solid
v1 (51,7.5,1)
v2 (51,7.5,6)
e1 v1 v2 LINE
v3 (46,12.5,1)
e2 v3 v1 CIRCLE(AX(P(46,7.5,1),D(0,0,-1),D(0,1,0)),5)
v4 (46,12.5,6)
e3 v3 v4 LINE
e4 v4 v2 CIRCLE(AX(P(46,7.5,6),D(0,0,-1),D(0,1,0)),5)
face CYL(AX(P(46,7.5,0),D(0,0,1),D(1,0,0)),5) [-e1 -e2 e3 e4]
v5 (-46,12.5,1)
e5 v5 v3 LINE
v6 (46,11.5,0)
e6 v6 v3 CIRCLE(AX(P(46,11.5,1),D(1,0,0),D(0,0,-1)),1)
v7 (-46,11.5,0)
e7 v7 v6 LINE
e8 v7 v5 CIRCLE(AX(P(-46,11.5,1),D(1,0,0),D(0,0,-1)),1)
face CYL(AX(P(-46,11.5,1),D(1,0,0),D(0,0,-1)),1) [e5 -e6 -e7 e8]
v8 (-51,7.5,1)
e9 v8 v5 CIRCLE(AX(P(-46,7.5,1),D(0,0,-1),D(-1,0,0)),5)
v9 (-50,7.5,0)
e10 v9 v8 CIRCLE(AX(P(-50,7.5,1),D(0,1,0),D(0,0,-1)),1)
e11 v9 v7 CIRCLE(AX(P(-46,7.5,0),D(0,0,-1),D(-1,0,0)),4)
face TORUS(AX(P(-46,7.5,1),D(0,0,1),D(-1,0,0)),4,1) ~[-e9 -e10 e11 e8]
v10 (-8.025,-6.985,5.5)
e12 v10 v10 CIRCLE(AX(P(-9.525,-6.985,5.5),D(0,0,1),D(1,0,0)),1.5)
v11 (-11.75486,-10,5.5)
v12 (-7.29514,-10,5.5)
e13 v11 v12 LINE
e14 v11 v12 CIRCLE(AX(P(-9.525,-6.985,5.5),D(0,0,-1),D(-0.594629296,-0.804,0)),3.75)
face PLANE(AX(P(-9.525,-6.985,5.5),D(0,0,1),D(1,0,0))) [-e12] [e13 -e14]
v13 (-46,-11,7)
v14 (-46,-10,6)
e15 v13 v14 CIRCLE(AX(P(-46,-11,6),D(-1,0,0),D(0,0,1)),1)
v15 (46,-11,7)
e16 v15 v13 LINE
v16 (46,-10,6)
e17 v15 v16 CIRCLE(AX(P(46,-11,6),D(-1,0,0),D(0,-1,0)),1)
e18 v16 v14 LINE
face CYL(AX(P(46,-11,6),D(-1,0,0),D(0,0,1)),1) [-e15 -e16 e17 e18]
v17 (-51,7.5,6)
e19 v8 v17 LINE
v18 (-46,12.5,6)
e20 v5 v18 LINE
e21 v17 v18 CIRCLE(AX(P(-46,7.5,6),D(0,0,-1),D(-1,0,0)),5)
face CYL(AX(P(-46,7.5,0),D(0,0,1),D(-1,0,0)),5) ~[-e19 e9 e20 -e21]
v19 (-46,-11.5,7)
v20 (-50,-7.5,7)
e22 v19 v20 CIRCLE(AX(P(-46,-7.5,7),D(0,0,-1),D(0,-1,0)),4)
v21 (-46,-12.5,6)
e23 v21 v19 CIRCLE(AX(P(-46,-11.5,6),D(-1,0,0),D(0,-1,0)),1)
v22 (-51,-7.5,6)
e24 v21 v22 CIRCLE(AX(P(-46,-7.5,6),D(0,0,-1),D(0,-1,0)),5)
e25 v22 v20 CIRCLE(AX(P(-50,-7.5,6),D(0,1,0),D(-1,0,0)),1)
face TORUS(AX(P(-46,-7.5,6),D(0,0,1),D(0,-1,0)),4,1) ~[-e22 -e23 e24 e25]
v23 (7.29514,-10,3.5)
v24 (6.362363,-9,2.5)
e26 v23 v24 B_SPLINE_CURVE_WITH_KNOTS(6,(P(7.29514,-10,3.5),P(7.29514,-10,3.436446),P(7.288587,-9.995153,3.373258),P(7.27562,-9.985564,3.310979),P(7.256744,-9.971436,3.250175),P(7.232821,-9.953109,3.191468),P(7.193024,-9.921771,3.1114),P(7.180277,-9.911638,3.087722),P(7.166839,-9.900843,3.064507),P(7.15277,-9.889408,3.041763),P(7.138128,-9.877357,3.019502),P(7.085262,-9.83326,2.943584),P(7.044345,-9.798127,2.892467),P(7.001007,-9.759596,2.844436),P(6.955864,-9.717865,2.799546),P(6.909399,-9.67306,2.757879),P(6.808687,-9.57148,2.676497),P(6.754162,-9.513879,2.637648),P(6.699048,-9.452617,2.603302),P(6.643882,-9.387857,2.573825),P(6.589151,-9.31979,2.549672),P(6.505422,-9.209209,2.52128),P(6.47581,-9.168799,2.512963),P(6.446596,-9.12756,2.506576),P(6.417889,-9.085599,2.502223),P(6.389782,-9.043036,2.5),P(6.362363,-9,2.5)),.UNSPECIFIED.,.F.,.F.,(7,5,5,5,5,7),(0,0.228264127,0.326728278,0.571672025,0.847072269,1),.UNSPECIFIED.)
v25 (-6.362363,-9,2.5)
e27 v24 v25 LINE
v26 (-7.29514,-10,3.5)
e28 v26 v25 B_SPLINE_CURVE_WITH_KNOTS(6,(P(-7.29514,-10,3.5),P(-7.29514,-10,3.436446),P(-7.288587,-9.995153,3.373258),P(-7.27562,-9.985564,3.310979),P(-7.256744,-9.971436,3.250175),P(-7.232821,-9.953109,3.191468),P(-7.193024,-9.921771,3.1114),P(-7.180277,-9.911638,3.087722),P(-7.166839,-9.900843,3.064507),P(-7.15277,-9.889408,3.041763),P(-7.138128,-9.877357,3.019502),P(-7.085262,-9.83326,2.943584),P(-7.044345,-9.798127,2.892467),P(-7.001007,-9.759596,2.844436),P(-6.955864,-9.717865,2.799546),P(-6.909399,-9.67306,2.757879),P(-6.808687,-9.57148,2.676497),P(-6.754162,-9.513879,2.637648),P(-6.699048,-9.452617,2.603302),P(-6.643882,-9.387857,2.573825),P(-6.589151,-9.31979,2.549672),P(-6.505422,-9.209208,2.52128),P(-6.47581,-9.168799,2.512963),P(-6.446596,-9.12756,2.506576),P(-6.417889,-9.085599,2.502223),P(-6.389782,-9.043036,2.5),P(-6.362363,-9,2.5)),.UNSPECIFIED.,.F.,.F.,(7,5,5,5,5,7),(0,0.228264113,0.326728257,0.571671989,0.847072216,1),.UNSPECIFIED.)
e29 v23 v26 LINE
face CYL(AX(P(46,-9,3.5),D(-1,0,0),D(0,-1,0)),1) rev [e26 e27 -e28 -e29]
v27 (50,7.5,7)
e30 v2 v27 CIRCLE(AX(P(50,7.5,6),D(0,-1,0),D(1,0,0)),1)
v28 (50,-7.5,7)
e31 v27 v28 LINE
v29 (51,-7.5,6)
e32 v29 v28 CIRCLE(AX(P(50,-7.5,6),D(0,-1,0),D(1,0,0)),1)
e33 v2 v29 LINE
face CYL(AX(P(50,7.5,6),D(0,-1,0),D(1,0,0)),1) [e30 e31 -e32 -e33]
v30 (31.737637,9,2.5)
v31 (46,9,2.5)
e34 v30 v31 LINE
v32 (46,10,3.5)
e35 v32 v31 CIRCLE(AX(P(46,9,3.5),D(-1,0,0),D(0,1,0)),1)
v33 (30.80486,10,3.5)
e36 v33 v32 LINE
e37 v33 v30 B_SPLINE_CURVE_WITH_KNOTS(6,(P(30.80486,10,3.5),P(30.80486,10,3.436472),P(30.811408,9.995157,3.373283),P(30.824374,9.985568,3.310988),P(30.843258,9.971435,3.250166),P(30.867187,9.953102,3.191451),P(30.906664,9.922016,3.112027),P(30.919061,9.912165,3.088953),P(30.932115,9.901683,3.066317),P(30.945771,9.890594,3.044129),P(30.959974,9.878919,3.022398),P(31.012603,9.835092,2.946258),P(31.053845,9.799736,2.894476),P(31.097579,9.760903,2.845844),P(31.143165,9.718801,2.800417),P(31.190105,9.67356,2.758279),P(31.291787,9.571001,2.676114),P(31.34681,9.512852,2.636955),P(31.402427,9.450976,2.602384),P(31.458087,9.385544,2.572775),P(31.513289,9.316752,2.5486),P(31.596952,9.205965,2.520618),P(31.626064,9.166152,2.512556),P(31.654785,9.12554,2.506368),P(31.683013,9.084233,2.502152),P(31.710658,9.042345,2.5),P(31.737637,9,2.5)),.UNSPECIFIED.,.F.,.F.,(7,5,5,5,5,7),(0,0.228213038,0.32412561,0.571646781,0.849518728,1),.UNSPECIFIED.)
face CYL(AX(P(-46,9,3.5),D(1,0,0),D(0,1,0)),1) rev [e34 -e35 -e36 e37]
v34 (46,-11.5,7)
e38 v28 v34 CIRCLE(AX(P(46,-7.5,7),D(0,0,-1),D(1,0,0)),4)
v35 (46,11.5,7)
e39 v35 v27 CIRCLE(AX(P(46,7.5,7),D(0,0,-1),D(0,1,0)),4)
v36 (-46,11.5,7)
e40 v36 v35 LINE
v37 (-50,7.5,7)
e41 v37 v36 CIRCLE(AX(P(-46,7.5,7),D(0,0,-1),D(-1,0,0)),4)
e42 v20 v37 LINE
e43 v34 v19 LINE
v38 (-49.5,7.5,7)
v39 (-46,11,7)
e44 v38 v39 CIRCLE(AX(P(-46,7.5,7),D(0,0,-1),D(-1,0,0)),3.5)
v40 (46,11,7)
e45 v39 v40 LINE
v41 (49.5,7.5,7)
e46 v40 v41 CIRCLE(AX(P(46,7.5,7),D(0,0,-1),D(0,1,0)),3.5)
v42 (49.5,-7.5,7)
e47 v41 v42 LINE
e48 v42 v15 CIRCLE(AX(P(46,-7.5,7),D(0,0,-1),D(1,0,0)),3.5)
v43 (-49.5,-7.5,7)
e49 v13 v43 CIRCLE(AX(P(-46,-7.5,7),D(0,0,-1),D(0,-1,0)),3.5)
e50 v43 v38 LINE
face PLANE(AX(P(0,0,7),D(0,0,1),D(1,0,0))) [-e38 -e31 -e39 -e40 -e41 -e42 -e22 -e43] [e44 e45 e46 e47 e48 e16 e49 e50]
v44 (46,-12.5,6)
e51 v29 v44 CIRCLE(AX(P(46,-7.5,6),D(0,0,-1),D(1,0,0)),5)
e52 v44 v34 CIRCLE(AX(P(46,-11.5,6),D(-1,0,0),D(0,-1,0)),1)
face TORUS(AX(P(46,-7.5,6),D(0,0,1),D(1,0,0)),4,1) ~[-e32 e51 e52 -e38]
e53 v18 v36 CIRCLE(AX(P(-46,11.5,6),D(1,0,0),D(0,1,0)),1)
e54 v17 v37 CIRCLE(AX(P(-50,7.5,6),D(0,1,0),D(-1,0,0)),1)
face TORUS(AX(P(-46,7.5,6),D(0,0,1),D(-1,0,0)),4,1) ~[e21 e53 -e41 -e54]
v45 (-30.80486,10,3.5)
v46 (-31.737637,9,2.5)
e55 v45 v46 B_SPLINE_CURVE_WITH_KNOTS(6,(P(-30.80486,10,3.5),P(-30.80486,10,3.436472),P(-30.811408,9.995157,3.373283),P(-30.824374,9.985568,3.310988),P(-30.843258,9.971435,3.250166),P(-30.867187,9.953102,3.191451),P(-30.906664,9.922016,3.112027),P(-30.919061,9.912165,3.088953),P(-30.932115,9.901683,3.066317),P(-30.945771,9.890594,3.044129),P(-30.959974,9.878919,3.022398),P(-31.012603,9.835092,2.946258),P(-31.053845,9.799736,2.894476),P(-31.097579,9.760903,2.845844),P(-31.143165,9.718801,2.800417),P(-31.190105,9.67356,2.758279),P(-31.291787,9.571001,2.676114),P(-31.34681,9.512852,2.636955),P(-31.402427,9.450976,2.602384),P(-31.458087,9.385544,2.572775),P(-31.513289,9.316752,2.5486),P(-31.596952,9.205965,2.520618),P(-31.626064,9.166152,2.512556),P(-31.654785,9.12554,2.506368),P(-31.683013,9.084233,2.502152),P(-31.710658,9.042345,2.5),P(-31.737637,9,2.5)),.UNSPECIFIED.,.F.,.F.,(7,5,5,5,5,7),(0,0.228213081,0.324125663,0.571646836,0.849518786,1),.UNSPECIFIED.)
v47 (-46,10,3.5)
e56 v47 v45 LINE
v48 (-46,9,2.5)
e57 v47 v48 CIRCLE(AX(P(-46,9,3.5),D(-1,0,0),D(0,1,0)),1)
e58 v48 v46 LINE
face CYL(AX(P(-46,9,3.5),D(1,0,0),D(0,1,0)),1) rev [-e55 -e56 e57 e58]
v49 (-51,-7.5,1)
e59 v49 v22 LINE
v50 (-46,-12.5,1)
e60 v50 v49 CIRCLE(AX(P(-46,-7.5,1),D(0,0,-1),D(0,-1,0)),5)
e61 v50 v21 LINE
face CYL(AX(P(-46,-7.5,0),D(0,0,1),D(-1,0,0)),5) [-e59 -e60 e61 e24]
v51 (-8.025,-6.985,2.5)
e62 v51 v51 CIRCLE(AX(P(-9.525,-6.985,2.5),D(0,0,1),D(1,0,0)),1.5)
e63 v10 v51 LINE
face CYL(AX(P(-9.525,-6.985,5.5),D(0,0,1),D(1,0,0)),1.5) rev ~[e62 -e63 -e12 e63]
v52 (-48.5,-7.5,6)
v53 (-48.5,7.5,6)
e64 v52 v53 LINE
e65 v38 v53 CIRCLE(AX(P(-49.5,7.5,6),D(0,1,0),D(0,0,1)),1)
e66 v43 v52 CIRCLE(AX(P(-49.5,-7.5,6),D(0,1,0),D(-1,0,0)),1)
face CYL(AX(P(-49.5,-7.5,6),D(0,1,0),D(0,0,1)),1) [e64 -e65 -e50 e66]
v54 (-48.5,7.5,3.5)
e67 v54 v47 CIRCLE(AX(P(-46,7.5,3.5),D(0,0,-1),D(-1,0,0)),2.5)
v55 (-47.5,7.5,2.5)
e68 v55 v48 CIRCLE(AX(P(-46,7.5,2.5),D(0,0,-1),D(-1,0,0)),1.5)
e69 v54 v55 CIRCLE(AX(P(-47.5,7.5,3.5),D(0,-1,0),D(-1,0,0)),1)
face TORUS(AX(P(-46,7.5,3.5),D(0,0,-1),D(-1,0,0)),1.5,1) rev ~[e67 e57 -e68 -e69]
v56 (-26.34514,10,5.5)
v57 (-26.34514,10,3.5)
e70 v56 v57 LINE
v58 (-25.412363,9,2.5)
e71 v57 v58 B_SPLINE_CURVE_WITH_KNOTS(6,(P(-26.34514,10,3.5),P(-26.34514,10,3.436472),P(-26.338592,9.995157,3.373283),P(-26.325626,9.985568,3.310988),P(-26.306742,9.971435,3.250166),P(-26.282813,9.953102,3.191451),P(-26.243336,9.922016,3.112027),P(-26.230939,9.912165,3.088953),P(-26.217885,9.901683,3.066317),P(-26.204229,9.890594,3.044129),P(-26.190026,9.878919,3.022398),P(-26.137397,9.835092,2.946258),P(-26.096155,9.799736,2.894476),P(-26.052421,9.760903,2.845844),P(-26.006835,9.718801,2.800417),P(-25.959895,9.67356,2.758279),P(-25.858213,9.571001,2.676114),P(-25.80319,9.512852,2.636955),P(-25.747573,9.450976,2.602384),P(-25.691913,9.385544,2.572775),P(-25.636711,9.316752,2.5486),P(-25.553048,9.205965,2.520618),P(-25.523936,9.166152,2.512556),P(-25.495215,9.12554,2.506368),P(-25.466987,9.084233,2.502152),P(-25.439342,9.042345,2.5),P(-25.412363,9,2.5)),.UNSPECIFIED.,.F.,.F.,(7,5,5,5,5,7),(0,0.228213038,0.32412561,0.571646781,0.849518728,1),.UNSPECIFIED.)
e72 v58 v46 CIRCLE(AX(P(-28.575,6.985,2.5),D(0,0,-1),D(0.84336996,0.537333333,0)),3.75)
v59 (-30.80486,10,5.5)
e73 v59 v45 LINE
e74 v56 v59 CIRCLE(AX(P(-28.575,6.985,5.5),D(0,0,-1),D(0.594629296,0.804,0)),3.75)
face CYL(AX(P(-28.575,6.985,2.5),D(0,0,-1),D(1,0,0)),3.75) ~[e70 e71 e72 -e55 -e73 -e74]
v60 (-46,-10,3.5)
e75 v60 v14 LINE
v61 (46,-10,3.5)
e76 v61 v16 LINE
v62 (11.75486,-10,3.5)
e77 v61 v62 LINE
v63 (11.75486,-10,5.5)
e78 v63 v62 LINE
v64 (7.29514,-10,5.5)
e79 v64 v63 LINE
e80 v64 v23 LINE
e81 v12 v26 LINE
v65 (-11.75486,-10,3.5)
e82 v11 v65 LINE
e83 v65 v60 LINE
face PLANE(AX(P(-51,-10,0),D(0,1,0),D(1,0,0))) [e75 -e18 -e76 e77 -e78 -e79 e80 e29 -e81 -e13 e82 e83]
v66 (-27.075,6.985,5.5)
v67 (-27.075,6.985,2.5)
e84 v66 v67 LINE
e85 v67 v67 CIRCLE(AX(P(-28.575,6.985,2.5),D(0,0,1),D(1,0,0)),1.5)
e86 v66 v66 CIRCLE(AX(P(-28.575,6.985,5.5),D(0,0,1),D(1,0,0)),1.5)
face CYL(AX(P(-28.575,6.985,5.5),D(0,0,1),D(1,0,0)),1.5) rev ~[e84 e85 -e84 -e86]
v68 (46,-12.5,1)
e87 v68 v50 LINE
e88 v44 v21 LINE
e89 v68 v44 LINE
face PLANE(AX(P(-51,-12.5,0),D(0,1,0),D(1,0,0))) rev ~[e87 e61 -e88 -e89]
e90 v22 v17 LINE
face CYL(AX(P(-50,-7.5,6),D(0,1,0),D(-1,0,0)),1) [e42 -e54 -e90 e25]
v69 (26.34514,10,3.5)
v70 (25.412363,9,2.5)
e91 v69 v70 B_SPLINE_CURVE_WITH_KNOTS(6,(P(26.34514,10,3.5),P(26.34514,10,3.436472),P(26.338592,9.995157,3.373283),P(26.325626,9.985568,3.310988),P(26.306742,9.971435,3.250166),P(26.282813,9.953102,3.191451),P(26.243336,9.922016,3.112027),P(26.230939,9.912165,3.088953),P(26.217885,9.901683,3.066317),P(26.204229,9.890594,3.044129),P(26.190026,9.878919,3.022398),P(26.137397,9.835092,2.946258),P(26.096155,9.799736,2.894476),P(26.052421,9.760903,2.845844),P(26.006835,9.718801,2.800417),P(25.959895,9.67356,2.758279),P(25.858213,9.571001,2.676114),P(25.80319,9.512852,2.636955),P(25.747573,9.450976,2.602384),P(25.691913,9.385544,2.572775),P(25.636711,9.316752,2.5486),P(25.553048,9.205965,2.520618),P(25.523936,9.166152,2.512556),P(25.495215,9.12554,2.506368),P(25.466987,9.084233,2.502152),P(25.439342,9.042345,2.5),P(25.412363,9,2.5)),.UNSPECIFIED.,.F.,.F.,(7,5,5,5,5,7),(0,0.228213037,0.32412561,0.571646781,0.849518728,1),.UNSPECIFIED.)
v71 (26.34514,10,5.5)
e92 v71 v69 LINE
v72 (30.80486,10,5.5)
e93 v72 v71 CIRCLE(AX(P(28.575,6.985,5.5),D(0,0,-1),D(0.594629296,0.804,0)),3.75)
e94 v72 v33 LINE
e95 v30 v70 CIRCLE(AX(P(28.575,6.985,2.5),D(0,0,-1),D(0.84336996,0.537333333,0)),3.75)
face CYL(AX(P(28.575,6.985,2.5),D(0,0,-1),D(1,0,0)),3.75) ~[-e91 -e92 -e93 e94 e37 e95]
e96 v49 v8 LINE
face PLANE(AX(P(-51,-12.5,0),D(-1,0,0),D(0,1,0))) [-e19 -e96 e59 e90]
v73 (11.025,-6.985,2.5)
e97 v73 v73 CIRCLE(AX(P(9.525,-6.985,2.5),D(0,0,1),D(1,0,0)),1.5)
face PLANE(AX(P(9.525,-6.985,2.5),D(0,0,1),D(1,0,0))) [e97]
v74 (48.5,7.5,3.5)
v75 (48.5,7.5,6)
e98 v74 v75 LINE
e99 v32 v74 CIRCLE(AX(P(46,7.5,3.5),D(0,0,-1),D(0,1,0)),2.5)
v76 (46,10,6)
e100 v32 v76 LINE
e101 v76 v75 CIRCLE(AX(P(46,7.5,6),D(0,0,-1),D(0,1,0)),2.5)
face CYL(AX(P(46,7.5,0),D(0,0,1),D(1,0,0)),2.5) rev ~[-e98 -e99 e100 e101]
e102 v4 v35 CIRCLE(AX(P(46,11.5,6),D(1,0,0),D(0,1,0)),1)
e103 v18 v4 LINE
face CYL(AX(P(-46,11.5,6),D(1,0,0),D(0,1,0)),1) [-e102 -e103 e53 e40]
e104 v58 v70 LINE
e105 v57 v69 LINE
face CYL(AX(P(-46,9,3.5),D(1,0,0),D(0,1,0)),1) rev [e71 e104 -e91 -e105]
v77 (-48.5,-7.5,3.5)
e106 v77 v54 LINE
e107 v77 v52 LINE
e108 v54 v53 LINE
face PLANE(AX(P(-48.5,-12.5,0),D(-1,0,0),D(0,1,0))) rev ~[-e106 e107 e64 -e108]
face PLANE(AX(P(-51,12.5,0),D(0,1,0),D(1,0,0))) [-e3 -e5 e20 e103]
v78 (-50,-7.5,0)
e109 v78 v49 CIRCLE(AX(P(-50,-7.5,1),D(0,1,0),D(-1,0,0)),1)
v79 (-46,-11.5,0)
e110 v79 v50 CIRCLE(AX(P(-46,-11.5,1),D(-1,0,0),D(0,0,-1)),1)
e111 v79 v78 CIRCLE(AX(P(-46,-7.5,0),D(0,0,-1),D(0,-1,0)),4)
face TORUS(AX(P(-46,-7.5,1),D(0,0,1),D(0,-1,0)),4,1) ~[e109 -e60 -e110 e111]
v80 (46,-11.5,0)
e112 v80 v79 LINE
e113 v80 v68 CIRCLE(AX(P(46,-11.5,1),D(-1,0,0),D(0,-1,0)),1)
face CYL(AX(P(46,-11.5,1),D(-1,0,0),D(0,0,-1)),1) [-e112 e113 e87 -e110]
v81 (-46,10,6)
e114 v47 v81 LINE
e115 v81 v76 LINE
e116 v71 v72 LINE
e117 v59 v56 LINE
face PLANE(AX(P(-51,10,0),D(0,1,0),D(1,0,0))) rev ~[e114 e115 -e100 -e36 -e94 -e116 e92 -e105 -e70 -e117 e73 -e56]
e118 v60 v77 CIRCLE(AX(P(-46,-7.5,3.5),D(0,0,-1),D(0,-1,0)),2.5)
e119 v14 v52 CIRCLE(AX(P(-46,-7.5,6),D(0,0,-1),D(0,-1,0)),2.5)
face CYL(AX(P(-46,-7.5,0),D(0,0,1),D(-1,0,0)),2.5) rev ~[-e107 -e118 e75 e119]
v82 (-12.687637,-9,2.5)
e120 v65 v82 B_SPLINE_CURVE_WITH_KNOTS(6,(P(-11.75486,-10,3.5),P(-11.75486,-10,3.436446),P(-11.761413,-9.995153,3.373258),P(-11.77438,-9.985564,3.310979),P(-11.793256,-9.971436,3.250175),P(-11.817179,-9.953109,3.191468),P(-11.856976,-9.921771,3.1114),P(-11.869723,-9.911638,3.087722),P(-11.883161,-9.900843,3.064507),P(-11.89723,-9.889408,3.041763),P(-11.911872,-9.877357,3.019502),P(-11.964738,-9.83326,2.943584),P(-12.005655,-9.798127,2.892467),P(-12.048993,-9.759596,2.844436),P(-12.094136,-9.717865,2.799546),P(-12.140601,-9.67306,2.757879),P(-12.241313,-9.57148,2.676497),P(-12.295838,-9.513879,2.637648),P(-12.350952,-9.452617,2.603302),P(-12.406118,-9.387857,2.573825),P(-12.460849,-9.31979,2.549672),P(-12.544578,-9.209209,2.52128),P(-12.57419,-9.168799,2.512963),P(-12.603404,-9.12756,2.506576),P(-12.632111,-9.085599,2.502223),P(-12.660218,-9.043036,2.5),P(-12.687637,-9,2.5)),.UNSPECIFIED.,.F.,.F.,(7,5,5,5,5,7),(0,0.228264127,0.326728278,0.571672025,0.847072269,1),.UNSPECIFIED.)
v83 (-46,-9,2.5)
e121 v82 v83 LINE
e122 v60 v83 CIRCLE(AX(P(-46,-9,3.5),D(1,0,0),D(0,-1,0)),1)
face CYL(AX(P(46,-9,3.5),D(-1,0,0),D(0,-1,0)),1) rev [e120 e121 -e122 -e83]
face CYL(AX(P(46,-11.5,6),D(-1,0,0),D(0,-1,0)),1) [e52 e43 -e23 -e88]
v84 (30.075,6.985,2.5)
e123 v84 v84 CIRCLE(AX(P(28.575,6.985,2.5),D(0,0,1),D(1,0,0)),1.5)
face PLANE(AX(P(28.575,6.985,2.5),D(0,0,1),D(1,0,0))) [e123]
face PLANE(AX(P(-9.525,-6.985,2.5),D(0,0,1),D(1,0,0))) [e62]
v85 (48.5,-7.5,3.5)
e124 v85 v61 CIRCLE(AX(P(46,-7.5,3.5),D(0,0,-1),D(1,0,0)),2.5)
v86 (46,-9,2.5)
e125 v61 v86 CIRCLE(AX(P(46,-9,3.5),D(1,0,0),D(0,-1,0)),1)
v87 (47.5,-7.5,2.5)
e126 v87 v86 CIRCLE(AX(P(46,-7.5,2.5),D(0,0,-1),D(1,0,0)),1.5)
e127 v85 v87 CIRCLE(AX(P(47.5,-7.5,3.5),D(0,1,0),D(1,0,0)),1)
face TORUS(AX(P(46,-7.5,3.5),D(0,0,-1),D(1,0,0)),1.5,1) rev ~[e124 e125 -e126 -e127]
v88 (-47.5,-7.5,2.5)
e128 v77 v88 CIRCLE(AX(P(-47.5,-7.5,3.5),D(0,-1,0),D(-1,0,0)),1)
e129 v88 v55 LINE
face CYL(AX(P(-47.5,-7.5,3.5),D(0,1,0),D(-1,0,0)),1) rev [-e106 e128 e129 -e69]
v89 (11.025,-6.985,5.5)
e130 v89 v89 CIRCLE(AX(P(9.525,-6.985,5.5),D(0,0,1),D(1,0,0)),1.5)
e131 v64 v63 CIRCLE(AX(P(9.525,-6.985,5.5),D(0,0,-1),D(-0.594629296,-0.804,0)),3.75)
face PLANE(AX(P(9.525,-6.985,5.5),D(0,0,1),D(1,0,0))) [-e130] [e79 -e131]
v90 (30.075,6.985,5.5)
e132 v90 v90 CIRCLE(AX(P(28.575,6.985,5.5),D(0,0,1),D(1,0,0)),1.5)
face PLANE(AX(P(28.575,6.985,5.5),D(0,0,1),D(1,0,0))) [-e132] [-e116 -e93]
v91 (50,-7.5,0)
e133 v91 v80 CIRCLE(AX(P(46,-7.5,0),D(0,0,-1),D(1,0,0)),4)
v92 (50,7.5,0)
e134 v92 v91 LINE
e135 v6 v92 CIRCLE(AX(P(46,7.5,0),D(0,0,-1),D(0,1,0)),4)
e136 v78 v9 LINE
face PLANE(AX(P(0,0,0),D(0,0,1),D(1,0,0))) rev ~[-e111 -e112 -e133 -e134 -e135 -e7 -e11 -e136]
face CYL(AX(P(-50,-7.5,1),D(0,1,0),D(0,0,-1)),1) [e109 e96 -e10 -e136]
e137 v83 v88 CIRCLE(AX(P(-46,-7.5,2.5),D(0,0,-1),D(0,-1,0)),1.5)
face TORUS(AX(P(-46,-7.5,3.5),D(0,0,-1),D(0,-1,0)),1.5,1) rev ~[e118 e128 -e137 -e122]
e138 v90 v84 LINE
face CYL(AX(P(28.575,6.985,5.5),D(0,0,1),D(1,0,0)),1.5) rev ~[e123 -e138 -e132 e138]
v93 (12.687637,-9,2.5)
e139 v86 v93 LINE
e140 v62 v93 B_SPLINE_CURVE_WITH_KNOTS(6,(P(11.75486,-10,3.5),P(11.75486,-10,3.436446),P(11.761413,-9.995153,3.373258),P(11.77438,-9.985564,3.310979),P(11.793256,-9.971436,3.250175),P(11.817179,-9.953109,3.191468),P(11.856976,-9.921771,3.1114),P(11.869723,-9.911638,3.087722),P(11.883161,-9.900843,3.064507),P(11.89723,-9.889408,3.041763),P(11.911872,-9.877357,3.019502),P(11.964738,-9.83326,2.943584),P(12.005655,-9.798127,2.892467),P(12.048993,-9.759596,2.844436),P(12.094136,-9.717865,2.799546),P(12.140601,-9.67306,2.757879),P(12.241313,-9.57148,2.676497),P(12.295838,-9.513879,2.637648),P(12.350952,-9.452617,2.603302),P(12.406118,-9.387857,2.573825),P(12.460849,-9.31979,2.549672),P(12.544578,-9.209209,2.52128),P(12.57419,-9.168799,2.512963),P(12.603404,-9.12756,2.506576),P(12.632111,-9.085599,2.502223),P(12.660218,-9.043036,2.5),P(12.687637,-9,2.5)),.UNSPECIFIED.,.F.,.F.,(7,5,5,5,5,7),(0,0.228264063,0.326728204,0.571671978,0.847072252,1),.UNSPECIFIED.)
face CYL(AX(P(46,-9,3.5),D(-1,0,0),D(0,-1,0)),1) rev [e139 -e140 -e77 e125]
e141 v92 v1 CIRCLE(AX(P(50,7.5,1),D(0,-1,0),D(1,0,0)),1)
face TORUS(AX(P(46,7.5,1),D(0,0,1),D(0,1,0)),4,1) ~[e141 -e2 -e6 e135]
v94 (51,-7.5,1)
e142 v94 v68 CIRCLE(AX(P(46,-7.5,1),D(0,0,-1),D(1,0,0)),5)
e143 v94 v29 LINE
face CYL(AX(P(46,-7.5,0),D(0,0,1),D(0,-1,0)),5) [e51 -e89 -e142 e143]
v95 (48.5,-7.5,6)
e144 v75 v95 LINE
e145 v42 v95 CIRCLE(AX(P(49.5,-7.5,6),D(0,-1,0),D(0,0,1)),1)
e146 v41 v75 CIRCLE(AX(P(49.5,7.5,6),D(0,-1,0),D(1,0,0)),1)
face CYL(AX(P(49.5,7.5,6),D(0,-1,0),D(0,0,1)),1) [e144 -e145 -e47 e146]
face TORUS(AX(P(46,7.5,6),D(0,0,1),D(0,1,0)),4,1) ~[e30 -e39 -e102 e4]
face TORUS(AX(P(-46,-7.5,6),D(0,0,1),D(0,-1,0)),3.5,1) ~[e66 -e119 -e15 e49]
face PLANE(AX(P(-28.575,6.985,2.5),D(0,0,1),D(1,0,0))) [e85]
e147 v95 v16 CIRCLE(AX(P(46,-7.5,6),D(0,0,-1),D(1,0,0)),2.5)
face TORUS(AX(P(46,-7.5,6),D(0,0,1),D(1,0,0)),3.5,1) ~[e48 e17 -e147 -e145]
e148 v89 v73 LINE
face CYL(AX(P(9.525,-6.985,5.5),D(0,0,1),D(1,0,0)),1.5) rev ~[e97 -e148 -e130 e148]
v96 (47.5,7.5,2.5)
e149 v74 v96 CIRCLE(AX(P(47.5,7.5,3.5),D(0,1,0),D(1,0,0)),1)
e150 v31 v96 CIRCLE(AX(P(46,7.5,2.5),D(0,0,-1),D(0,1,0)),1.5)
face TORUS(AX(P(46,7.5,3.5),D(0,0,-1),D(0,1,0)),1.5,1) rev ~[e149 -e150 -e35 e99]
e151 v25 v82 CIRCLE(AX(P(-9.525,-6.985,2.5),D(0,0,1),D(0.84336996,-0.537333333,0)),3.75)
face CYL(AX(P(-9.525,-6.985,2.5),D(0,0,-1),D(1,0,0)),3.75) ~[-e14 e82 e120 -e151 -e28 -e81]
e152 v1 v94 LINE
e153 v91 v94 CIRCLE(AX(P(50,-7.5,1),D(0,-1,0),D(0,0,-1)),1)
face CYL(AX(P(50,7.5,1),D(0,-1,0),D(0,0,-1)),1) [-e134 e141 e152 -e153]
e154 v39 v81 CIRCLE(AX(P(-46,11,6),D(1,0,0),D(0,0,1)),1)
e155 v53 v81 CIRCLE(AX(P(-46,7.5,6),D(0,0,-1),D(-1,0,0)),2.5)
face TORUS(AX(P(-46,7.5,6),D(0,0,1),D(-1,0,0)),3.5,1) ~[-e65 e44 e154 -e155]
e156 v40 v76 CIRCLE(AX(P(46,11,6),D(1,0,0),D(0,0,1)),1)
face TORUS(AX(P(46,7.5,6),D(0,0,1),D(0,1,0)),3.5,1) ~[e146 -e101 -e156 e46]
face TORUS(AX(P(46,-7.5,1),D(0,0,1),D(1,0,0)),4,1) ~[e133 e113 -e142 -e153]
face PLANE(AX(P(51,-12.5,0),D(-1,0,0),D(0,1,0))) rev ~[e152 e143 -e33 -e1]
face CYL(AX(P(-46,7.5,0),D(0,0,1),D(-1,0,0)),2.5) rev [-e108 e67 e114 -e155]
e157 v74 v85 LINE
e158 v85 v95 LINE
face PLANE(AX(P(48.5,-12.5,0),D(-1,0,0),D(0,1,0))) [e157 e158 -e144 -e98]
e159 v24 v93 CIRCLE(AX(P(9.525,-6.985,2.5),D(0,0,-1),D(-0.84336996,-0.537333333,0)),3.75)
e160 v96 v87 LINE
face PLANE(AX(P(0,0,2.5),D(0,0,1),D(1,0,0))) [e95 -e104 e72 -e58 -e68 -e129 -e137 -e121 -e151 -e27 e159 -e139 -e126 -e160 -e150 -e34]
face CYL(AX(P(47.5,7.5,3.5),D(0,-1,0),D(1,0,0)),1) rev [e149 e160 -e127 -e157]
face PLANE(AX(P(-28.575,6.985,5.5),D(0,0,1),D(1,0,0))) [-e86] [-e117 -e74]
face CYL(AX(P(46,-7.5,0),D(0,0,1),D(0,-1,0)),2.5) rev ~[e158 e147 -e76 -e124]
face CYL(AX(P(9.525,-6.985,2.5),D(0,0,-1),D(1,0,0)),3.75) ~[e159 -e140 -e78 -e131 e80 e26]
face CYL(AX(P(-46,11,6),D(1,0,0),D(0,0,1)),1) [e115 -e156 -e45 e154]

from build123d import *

# Parameters (mm, degrees)
F0_W     = 102
F0_H     = 25
F1_DEPTH = 7
F2_R     = 5
F3_T     = -2.5
F4_R     = 1
F5_R     = 3.75
F6_DEPTH = 3
F7_R     = 1.5
F8_DEPTH = 3


with BuildPart() as f1:
    # F0 (on Top) → F1 (new body)
    with BuildSketch(Plane.XY):
        Rectangle(F0_W, F0_H)
    extrude(amount=F1_DEPTH)

    # F2
    f2_edges = [f1.edges().sort_by_distance(p)[0] for p in [
        (-51, -12.5, 3.5),
        (-51, 12.5, 3.5),
        (51, -12.5, 3.5),
        (51, 12.5, 3.5),
    ]]
    fillet(f2_edges, radius=F2_R)

    # F3
    f3_openings = [f1.faces().sort_by_distance(p)[0] for p in [
        (0, 0, 7),
    ]]
    offset(amount=F3_T, openings=f3_openings)

    # F4
    f4_edges = [f1.edges().sort_by_distance(p)[0] for p in [
        (-48.5, 0, 2.5),
        (-47.767767, -9.267767, 2.5),
        (0, -10, 2.5),
        (47.767767, -9.267767, 2.5),
        (48.5, 0, 2.5),
        (47.767767, 9.267767, 2.5),
        (0, 10, 2.5),
        (-47.767767, 9.267767, 2.5),
        (0, 12.5, 7),
        (-49.535534, 11.035534, 7),
        (-51, 0, 7),
        (-49.535534, -11.035534, 7),
        (0, -12.5, 7),
        (49.535534, -11.035534, 7),
        (51, 0, 7),
        (49.535534, 11.035534, 7),
        (0, 10, 7),
        (47.767767, 9.267767, 7),
        (48.5, 0, 7),
        (47.767767, -9.267767, 7),
        (0, -10, 7),
        (-47.767767, -9.267767, 7),
        (-48.5, 0, 7),
        (-47.767767, 9.267767, 7),
        (0, 12.5, 0),
        (49.535534, 11.035534, 0),
        (-49.535534, 11.035534, 0),
        (51, 0, 0),
        (-51, 0, 0),
        (49.535534, -11.035534, 0),
        (-49.535534, -11.035534, 0),
        (0, -12.5, 0),
    ]]
    fillet(f4_edges, radius=F4_R)

    # F5 (on face) → F6 (join)
    with BuildSketch(Plane.XY.offset(2.5)):
        with Locations((-9.525, -6.985)):
            Circle(F5_R)
        with Locations((9.525, -6.985)):
            Circle(F5_R)
        with Locations((-28.575, 6.985)):
            Circle(F5_R)
        with Locations((28.575, 6.985)):
            Circle(F5_R)
    extrude(amount=F6_DEPTH)

    # F7 (on face) → F8 (cut, through all)
    with BuildSketch(Plane.XY.offset(5.5)):
        with Locations((-9.525, -6.985)):
            Circle(F7_R)
        with Locations((-28.575, 6.985)):
            Circle(F7_R)
        with Locations((9.525, -6.985)):
            Circle(F7_R)
        with Locations((28.575, 6.985)):
            Circle(F7_R)
    extrude(amount=-F8_DEPTH, mode=Mode.SUBTRACT)


solid = f1.part
